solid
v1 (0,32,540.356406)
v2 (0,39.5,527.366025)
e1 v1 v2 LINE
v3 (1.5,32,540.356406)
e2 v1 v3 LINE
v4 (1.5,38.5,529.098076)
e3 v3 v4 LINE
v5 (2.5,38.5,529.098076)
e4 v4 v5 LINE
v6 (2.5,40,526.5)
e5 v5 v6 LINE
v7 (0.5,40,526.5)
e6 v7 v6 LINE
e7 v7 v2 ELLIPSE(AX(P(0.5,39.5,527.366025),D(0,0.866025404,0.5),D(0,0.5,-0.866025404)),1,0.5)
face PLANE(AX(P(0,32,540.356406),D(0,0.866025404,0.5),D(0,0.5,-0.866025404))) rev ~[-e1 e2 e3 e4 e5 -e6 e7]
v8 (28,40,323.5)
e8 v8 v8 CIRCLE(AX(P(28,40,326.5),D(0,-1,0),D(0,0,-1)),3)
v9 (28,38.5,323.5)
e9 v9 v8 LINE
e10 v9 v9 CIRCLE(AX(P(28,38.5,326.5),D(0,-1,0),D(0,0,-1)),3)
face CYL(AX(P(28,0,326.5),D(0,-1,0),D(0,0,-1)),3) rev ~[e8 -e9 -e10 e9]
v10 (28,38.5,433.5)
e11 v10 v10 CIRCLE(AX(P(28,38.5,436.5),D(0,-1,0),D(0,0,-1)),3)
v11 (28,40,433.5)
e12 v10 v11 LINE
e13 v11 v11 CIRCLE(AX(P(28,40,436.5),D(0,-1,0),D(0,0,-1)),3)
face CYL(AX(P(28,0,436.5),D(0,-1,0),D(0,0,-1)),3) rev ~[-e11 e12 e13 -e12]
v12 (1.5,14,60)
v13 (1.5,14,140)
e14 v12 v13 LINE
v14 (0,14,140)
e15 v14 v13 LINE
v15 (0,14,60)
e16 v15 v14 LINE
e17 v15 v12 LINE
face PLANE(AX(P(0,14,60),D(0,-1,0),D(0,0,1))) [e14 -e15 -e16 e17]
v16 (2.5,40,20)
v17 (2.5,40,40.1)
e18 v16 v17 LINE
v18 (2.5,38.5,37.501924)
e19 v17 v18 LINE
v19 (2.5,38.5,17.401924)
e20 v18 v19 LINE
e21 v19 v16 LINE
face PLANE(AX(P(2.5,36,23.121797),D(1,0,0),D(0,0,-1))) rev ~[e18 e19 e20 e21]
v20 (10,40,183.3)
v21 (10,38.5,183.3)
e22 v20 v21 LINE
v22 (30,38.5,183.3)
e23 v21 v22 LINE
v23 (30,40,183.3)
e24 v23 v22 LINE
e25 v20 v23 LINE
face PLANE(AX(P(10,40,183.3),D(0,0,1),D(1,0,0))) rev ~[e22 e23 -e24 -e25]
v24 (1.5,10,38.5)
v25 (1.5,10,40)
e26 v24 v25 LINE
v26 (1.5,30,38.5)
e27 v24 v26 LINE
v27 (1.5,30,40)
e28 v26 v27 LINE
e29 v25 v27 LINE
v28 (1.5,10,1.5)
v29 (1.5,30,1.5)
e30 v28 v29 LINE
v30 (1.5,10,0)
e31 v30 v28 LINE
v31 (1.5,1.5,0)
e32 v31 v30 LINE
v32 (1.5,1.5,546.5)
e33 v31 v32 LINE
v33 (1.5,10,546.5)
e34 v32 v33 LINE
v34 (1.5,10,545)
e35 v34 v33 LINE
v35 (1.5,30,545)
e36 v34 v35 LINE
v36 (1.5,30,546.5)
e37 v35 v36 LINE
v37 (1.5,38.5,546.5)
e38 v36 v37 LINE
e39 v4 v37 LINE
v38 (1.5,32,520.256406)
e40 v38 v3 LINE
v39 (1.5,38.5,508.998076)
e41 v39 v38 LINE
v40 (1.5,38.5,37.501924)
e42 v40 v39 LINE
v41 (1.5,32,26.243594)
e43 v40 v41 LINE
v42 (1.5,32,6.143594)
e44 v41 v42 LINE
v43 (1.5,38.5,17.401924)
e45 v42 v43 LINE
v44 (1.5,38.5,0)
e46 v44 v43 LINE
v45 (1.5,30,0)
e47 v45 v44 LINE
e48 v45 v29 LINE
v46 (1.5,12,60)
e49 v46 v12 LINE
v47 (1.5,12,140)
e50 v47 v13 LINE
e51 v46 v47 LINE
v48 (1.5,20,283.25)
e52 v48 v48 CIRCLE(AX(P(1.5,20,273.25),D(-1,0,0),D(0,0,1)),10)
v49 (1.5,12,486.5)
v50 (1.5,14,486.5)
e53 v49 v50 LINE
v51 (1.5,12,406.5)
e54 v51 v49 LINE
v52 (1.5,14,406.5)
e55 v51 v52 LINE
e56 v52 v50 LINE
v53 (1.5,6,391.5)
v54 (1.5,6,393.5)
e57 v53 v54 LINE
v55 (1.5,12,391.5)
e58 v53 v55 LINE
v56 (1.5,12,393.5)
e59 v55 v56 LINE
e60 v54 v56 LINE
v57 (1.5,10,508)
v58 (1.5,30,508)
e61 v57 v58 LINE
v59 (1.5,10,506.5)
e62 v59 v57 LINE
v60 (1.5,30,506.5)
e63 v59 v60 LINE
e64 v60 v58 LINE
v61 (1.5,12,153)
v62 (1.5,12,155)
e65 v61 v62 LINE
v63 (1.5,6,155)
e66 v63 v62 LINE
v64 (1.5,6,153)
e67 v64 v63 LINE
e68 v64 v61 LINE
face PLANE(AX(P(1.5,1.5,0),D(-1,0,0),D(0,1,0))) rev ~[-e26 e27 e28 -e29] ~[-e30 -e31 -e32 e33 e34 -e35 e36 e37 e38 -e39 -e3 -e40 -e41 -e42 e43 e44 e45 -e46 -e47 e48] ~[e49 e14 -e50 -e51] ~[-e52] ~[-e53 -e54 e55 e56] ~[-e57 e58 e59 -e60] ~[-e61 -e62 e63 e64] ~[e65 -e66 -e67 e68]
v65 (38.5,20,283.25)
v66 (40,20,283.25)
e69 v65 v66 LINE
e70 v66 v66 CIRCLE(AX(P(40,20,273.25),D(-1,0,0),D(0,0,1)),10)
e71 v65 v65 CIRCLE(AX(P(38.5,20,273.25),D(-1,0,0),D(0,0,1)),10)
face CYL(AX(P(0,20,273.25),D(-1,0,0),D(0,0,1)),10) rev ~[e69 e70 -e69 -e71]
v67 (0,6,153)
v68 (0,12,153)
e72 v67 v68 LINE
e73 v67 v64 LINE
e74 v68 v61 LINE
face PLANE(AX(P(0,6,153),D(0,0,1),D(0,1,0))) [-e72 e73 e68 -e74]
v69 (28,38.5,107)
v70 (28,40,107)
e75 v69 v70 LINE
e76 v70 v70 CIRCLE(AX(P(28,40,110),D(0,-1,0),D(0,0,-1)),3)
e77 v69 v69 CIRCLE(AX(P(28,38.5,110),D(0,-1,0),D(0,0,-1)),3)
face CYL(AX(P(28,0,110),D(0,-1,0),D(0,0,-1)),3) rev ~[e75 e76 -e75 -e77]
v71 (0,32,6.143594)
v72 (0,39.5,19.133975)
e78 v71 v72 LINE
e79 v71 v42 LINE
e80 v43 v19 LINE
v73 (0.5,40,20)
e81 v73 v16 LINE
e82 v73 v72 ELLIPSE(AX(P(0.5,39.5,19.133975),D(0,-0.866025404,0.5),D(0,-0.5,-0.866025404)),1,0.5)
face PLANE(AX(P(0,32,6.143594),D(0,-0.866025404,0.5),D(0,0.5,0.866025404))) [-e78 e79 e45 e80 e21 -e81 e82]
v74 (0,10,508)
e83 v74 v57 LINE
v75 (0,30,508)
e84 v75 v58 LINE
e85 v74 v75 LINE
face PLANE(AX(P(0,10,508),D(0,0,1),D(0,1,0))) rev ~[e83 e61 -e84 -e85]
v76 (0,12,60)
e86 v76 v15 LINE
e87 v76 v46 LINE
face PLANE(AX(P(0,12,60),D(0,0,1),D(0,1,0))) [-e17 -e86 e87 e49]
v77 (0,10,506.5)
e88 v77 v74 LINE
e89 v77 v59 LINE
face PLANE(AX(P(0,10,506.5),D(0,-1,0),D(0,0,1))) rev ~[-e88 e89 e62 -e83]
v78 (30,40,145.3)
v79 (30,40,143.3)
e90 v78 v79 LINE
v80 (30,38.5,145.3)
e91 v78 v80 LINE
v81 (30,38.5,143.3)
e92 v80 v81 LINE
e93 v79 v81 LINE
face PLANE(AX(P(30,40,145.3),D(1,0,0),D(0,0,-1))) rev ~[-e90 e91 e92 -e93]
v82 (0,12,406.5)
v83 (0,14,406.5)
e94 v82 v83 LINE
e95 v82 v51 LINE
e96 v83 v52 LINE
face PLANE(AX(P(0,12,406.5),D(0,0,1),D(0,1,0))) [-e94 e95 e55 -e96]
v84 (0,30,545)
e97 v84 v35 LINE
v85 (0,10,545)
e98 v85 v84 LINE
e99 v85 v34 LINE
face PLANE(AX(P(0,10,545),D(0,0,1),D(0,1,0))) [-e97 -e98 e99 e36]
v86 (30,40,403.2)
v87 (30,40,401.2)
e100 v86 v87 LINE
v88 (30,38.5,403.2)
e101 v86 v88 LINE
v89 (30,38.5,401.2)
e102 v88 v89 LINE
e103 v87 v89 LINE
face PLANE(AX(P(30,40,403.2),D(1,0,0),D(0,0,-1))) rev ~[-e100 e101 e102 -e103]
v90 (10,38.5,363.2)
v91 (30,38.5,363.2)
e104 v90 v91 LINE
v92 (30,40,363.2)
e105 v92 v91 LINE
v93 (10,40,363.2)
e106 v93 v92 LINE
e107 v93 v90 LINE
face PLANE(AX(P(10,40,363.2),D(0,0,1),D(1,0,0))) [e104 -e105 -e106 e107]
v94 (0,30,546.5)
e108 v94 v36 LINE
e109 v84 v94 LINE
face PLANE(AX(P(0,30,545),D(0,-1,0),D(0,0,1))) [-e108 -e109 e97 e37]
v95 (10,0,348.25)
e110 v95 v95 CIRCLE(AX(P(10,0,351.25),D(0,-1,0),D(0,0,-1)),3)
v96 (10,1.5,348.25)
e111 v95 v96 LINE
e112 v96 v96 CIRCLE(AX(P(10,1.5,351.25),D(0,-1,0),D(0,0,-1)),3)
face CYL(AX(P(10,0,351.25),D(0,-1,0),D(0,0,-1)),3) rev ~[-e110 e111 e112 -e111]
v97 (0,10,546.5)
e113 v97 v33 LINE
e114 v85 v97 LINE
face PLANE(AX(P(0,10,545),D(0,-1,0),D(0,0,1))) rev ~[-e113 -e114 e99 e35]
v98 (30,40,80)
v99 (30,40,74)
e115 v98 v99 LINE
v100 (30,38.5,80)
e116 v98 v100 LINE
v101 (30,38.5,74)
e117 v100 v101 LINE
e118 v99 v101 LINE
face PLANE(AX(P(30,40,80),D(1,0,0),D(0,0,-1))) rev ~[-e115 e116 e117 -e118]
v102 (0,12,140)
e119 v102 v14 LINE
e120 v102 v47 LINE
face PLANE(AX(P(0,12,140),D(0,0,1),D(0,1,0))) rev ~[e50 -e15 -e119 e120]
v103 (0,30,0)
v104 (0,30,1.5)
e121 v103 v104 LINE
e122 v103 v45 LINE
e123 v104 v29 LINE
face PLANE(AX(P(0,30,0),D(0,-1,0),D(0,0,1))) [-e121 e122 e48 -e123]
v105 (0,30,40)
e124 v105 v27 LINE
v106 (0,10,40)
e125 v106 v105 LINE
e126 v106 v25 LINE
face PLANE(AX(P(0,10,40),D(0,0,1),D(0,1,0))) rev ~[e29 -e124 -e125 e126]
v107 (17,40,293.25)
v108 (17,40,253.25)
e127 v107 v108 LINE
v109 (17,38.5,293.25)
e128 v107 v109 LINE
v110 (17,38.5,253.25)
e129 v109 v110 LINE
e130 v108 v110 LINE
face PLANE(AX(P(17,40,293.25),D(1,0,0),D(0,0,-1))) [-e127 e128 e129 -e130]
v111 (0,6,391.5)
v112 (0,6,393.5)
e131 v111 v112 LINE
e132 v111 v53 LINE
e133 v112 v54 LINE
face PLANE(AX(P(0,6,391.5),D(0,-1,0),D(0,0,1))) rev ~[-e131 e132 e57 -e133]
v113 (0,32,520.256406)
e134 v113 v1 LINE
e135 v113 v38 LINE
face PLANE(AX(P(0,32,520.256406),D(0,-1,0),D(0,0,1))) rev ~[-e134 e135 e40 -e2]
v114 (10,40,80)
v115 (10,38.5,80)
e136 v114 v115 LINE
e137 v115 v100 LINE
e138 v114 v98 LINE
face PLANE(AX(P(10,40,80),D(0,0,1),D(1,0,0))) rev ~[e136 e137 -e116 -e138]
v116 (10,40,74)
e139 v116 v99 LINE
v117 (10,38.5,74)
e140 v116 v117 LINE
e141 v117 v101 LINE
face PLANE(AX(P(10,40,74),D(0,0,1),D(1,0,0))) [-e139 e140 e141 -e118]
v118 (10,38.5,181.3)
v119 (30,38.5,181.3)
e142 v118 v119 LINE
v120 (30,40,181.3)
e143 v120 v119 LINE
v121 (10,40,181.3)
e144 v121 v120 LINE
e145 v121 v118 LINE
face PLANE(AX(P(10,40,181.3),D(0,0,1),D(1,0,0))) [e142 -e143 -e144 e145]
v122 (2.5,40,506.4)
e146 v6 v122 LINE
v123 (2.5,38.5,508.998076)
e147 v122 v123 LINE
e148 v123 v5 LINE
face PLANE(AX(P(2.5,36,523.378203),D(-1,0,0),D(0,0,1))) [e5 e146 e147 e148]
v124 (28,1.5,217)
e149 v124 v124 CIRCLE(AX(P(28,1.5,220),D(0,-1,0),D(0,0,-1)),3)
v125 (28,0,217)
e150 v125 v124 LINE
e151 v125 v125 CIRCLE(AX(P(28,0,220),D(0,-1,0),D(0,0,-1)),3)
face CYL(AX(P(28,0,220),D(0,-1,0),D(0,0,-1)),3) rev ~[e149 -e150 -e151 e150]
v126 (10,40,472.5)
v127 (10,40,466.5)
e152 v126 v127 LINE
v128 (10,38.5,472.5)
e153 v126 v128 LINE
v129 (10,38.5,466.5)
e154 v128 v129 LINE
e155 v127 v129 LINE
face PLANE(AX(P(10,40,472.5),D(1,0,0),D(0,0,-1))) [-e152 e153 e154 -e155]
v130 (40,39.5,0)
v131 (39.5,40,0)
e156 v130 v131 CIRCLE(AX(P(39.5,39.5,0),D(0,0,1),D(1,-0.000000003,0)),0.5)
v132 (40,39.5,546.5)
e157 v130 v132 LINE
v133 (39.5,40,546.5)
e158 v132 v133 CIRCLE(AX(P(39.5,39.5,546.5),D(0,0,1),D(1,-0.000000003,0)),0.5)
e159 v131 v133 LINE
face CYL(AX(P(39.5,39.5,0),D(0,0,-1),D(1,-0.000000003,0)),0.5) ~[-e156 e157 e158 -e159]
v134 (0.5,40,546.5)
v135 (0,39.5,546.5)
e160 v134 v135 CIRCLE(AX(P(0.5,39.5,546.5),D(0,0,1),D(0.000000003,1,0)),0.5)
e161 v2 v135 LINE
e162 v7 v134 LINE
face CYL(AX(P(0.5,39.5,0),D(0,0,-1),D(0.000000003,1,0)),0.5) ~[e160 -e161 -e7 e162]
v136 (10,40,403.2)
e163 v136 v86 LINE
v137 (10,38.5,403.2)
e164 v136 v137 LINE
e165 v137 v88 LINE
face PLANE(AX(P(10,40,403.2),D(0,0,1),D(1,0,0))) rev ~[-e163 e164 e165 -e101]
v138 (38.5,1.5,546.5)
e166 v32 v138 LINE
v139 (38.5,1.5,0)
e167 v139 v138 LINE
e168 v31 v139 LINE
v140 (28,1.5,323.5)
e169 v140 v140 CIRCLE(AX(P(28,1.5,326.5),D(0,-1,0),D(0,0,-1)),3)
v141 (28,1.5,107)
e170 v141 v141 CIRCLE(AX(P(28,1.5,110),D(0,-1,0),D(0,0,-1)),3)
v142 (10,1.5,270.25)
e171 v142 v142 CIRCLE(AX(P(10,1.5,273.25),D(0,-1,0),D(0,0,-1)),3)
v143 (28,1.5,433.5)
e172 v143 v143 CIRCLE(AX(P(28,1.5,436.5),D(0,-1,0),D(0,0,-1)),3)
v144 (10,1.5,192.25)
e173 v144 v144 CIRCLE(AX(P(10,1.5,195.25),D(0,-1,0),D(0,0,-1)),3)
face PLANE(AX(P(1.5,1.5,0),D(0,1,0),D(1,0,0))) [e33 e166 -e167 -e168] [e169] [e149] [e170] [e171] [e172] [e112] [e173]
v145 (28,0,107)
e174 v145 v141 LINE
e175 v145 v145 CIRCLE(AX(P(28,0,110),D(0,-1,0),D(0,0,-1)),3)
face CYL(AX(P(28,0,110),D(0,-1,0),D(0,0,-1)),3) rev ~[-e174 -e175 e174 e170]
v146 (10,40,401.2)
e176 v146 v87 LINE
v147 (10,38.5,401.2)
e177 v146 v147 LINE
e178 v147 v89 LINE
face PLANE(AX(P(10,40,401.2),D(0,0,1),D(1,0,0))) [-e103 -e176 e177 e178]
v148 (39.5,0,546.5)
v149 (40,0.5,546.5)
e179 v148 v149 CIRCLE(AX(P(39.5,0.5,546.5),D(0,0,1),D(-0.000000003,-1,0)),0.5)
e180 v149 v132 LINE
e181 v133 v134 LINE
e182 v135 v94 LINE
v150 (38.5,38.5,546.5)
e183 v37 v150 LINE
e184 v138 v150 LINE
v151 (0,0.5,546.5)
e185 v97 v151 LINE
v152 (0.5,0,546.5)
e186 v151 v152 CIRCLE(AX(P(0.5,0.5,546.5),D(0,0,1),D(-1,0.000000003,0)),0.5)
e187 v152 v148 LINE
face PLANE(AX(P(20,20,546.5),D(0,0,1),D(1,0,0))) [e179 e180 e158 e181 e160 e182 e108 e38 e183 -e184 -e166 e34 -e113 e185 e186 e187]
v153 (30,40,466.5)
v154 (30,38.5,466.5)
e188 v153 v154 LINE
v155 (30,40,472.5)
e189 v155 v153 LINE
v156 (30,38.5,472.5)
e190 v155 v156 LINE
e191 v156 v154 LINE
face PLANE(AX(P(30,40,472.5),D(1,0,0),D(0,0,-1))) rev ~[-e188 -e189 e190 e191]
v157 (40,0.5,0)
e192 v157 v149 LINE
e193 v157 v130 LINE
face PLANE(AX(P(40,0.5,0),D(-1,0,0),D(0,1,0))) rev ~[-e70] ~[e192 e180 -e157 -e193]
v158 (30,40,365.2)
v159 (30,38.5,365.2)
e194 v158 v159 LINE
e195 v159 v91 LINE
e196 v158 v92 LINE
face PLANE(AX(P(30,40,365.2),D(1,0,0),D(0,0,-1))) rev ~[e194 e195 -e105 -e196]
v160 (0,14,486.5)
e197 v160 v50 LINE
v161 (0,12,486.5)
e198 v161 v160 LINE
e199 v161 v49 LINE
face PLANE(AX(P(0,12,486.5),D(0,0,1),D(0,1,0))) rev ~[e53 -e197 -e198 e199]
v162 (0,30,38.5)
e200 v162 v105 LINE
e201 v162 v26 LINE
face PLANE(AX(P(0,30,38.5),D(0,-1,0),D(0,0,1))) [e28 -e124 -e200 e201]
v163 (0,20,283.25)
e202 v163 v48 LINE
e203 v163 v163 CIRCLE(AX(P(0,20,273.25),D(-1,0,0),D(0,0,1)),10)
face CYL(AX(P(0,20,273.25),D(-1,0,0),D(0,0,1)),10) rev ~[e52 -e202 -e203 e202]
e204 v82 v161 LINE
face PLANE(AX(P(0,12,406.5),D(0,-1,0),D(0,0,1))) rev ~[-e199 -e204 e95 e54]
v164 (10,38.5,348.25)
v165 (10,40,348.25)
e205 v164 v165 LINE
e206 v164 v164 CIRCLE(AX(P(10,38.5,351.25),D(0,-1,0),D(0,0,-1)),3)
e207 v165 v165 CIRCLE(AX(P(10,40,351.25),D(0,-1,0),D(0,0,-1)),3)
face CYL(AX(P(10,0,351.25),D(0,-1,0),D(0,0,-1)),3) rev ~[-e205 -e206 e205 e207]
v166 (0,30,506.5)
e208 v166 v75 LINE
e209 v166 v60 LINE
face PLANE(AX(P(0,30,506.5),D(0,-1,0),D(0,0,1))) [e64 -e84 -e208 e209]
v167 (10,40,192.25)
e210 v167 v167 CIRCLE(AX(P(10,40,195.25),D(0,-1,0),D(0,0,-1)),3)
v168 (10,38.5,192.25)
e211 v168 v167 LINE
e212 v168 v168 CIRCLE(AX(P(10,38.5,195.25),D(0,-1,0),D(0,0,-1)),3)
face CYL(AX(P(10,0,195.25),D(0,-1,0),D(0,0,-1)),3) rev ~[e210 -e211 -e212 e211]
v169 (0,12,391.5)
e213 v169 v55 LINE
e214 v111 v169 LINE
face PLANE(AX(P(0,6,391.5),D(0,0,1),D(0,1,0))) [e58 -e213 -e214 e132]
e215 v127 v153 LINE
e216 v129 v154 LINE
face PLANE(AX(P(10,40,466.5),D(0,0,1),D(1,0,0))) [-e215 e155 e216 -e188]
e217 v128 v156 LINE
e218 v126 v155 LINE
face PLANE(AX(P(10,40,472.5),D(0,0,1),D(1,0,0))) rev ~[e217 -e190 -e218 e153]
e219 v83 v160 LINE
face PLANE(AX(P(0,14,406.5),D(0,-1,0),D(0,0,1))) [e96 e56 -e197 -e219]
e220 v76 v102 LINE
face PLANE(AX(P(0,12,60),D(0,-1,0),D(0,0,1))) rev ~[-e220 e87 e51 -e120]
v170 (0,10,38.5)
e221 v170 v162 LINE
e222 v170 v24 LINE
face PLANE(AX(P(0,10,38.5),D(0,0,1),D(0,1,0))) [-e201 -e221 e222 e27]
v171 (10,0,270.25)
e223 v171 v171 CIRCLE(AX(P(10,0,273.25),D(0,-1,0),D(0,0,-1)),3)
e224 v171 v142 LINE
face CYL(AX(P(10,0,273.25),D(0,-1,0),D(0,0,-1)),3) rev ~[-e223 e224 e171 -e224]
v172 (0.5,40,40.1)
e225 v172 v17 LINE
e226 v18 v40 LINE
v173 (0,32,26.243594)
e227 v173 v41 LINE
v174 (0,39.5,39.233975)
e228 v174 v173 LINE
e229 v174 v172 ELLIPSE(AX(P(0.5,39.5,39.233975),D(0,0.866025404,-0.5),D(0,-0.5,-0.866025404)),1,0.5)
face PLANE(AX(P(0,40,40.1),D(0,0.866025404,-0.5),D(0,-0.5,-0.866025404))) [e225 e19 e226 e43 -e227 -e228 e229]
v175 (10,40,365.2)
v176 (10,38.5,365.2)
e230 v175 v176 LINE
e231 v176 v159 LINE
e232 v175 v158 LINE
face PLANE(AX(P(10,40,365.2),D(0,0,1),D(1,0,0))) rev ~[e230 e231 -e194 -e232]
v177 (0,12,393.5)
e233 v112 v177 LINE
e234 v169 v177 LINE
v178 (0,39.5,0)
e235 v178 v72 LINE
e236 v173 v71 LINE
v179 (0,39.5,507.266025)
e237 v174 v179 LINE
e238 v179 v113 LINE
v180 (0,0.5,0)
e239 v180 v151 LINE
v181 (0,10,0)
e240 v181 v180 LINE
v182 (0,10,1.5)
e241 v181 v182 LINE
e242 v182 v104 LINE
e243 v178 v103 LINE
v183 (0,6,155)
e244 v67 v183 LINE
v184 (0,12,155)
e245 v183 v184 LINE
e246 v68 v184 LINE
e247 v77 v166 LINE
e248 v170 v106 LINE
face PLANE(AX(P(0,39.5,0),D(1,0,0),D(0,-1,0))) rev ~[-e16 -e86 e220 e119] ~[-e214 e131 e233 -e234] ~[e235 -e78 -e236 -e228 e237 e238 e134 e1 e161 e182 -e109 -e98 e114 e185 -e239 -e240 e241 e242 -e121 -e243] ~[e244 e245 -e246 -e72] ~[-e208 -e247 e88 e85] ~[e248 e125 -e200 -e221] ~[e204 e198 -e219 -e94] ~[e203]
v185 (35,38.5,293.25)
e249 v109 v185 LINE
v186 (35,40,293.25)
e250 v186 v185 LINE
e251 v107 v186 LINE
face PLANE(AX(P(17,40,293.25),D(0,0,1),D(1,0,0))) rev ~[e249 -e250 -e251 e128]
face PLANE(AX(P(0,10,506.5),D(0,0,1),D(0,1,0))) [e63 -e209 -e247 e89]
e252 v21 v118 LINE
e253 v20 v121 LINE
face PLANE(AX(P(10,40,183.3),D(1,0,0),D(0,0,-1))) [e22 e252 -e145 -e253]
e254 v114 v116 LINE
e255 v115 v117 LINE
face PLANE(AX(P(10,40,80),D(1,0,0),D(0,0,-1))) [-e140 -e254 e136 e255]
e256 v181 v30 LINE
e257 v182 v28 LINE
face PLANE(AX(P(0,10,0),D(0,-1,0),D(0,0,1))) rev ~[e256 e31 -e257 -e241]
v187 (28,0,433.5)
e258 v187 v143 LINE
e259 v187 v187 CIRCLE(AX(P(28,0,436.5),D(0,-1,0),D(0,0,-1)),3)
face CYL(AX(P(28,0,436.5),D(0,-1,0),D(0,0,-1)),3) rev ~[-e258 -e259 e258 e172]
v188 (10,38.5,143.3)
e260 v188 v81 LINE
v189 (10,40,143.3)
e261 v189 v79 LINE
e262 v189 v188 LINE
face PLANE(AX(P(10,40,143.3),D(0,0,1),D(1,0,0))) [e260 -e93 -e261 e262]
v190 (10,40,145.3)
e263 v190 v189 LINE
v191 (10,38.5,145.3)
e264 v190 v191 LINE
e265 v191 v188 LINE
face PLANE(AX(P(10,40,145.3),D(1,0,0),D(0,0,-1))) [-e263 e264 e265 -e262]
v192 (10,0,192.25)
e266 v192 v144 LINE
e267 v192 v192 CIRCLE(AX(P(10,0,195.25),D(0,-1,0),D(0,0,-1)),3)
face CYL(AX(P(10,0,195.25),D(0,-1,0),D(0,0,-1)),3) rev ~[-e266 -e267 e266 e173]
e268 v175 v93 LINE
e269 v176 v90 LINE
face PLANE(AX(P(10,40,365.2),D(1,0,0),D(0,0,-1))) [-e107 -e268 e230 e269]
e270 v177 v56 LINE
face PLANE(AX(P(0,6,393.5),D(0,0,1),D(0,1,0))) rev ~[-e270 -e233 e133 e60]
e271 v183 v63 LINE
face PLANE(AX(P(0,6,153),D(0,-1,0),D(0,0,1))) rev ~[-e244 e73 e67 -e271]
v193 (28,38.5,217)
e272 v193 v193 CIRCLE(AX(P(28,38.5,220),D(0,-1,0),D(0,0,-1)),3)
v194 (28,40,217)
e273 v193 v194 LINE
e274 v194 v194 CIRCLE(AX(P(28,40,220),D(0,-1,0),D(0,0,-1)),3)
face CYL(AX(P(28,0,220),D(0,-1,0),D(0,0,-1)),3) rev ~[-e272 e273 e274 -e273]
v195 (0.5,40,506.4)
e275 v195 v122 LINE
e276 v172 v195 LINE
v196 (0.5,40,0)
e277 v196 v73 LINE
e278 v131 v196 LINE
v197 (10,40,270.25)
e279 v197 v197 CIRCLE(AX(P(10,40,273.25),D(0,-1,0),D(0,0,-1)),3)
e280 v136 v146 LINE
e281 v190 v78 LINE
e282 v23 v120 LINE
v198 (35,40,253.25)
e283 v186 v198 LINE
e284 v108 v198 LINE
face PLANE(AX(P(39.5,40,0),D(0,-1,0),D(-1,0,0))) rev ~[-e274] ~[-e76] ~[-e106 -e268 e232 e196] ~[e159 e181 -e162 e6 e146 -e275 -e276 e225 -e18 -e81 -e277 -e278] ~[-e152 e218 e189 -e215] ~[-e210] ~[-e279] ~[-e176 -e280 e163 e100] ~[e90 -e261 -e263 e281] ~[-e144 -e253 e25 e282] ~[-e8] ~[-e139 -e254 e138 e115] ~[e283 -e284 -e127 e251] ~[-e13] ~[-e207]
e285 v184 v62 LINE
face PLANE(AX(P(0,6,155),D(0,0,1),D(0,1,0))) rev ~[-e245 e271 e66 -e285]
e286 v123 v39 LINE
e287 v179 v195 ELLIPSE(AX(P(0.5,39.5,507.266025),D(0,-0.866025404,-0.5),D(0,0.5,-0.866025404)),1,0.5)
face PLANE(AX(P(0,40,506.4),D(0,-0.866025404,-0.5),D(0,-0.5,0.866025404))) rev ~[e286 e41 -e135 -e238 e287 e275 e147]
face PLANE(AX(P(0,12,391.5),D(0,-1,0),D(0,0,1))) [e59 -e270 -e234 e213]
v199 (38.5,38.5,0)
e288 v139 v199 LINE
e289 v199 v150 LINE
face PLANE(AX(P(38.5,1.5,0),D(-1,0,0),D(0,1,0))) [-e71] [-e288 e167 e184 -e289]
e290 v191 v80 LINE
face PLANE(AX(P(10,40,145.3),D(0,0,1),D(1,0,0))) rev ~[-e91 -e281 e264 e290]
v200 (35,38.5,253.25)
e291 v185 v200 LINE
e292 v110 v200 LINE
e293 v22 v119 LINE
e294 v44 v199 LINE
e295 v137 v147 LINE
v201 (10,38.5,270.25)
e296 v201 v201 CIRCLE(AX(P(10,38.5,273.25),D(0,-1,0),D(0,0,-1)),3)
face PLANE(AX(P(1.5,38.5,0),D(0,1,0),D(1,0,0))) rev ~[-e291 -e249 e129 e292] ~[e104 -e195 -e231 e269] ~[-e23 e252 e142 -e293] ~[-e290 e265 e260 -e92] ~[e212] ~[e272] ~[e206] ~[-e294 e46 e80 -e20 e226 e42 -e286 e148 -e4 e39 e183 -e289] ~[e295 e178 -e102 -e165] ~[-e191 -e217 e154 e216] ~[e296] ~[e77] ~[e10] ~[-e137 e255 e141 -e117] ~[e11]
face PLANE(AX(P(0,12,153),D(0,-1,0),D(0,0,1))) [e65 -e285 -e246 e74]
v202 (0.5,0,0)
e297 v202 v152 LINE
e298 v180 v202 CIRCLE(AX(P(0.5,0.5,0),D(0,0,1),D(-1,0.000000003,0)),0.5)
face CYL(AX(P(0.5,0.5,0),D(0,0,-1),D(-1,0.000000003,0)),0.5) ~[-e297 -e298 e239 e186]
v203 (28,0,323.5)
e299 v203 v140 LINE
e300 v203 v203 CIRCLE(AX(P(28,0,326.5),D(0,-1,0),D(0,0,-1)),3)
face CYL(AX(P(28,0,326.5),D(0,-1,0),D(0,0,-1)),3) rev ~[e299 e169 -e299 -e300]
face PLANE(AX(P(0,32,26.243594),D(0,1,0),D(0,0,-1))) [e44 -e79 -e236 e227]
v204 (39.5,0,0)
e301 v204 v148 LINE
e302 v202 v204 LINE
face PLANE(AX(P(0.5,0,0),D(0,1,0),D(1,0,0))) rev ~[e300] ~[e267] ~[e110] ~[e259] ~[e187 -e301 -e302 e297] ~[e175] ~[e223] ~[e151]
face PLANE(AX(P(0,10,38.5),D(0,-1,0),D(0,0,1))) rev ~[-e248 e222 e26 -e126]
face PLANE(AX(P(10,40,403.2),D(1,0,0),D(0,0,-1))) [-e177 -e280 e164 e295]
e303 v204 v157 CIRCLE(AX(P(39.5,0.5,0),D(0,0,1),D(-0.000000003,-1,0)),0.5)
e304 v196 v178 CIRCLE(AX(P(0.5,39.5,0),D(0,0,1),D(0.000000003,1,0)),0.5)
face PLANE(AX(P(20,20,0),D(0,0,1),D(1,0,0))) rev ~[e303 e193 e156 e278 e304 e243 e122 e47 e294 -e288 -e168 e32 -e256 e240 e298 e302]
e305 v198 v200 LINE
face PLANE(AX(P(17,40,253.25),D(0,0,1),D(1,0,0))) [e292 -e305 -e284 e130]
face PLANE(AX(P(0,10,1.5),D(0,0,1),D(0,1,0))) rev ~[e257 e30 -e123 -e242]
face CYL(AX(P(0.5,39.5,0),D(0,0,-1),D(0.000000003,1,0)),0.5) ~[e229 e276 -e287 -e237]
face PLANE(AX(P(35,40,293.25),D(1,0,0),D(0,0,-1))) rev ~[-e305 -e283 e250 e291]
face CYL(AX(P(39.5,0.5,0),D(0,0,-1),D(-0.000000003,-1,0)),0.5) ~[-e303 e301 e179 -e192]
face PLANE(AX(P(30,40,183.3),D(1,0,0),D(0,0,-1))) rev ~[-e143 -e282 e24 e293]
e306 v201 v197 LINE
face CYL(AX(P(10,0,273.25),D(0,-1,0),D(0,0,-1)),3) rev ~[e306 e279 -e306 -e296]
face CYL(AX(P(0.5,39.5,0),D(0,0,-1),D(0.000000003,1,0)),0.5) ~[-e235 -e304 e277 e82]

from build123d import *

# Parameters (mm, degrees)
SKETCH1_W           = 37
SKETCH1_H           = 37
BOSS_EXTRUDE1_DEPTH = 546.5
SKETCH2_W           = 1.5
SKETCH2_H           = 20
SKETCH2_W_2         = 80
SKETCH2_H_2         = 2
SKETCH2_W_3         = 2
SKETCH2_H_3         = 6
CUT_EXTRUDE1_DEPTH  = 2.5
SKETCH3_W           = 20
SKETCH3_H           = 6
CUT_EXTRUDE2_DEPTH  = 1.5
SKETCH4_W           = 20
SKETCH4_H           = 2
CUT_EXTRUDE3_DEPTH  = 2
SKETCH5_R           = 3
CUT_EXTRUDE4_DEPTH  = 550.419921372
SKETCH6_R           = 3
CUT_EXTRUDE5_DEPTH  = 550.419921372
SKETCH7_R           = 10
CUT_EXTRUDE6_DEPTH  = 550.419921372
SKETCH8_W           = 18
SKETCH8_H           = 40
CUT_EXTRUDE7_DEPTH  = 10


with BuildPart() as part:
    # Sketch1 → Boss-Extrude1 (new body)
    with BuildSketch(Plane.XY):
        with BuildLine():
            Line((0.5, 0), (39.5, 0))
            ThreePointArc((39.5, 0), (39.853553391, 0.146446609), (40, 0.5))
            Line((40, 0.5), (40, 39.5))
            ThreePointArc((40, 39.5), (39.853553391, 39.853553391), (39.5, 40))
            Line((39.5, 40), (0.5, 40))
            ThreePointArc((0.5, 40), (0.146446609, 39.853553391), (0, 39.5))
            Line((0, 39.5), (0, 0.5))
            ThreePointArc((0, 0.5), (0.146446609, 0.146446609), (0.5, 0))
        make_face()
        with Locations((20, 20)):
            Rectangle(SKETCH1_W, SKETCH1_H, mode=Mode.SUBTRACT)
    extrude(amount=BOSS_EXTRUDE1_DEPTH)

    # Sketch2 → Cut-Extrude1 (cut)
    with BuildSketch(Plane.ZY):
        with Locations((0.75, 20)):
            Rectangle(SKETCH2_W, SKETCH2_H)
        with Locations((39.25, 20)):
            Rectangle(SKETCH2_W, SKETCH2_H)
        with Locations((507.25, 20)):
            Rectangle(SKETCH2_W, SKETCH2_H)
        with Locations((545.75, 20)):
            Rectangle(SKETCH2_W, SKETCH2_H)
        with Locations((446.5, 13)):
            Rectangle(SKETCH2_W_2, SKETCH2_H_2)
        with Locations((100, 13)):
            Rectangle(SKETCH2_W_2, SKETCH2_H_2)
        with Locations((154, 9)):
            Rectangle(SKETCH2_W_3, SKETCH2_H_3)
        with Locations((392.5, 9)):
            Rectangle(SKETCH2_W_3, SKETCH2_H_3)
        Polygon((40.1, 40), (26.243593539, 32), (6.143593539, 32), (20, 40), align=None)
        Polygon((520.256406461, 32), (540.356406461, 32), (526.5, 40), (506.4, 40), align=None)
    extrude(amount=-CUT_EXTRUDE1_DEPTH, mode=Mode.SUBTRACT)

    # Sketch3 → Cut-Extrude2 (cut)
    with BuildSketch(Plane(origin=(0, 40, 0), x_dir=(1, 0, 0), z_dir=(0, 1, 0))):
        with Locations((20, -469.5)):
            Rectangle(SKETCH3_W, SKETCH3_H)
        with Locations((20, -77)):
            Rectangle(SKETCH3_W, SKETCH3_H)
    extrude(amount=-CUT_EXTRUDE2_DEPTH, mode=Mode.SUBTRACT)

    # Sketch4 → Cut-Extrude3 (cut)
    with BuildSketch(Plane(origin=(0, 40, 0), x_dir=(1, 0, 0), z_dir=(0, 1, 0))):
        with Locations((20, -144.3)):
            Rectangle(SKETCH4_W, SKETCH4_H)
        with Locations((20, -182.3)):
            Rectangle(SKETCH4_W, SKETCH4_H)
        with Locations((20, -364.2)):
            Rectangle(SKETCH4_W, SKETCH4_H)
        with Locations((20, -402.2)):
            Rectangle(SKETCH4_W, SKETCH4_H)
    extrude(amount=-CUT_EXTRUDE3_DEPTH, mode=Mode.SUBTRACT)

    # Sketch5 → Cut-Extrude4 (cut, through all)
    with BuildSketch(Plane.XZ):
        with Locations(Location((10, 351.25, 0), (0, 0, 270))):
            Circle(SKETCH5_R)
        with Locations(Location((10, 195.25, 0), (0, 0, 270))):
            Circle(SKETCH5_R)
        with Locations(Location((10, 273.25, 0), (0, 0, 270))):
            Circle(SKETCH5_R)
    extrude(amount=-CUT_EXTRUDE4_DEPTH, mode=Mode.SUBTRACT)

    # Sketch6 → Cut-Extrude5 (cut, through all)
    with BuildSketch(Plane(origin=(0, 0, 0), x_dir=(-1, 0, 0), z_dir=(0, -1, 0))):
        with Locations(Location((-28, -436.5, 0), (0, 0, 90))):
            Circle(SKETCH6_R)
        with Locations(Location((-28, -326.5, 0), (0, 0, 90))):
            Circle(SKETCH6_R)
        with Locations(Location((-28, -220, 0), (0, 0, 90))):
            Circle(SKETCH6_R)
        with Locations(Location((-28, -110, 0), (0, 0, 90))):
            Circle(SKETCH6_R)
    extrude(amount=-CUT_EXTRUDE5_DEPTH, mode=Mode.SUBTRACT)

    # Sketch7 → Cut-Extrude6 (cut, through all)
    with BuildSketch(Plane.ZY):
        with Locations((273.25, 20)):
            Circle(SKETCH7_R)
    extrude(amount=-CUT_EXTRUDE6_DEPTH, mode=Mode.SUBTRACT)

    # Sketch8 → Cut-Extrude7 (cut)
    with BuildSketch(Plane(origin=(0, 40, 0), x_dir=(1, 0, 0), z_dir=(0, 1, 0))):
        with Locations((26, -273.25)):
            Rectangle(SKETCH8_W, SKETCH8_H)
    extrude(amount=-CUT_EXTRUDE7_DEPTH, mode=Mode.SUBTRACT)


solid = part.part
